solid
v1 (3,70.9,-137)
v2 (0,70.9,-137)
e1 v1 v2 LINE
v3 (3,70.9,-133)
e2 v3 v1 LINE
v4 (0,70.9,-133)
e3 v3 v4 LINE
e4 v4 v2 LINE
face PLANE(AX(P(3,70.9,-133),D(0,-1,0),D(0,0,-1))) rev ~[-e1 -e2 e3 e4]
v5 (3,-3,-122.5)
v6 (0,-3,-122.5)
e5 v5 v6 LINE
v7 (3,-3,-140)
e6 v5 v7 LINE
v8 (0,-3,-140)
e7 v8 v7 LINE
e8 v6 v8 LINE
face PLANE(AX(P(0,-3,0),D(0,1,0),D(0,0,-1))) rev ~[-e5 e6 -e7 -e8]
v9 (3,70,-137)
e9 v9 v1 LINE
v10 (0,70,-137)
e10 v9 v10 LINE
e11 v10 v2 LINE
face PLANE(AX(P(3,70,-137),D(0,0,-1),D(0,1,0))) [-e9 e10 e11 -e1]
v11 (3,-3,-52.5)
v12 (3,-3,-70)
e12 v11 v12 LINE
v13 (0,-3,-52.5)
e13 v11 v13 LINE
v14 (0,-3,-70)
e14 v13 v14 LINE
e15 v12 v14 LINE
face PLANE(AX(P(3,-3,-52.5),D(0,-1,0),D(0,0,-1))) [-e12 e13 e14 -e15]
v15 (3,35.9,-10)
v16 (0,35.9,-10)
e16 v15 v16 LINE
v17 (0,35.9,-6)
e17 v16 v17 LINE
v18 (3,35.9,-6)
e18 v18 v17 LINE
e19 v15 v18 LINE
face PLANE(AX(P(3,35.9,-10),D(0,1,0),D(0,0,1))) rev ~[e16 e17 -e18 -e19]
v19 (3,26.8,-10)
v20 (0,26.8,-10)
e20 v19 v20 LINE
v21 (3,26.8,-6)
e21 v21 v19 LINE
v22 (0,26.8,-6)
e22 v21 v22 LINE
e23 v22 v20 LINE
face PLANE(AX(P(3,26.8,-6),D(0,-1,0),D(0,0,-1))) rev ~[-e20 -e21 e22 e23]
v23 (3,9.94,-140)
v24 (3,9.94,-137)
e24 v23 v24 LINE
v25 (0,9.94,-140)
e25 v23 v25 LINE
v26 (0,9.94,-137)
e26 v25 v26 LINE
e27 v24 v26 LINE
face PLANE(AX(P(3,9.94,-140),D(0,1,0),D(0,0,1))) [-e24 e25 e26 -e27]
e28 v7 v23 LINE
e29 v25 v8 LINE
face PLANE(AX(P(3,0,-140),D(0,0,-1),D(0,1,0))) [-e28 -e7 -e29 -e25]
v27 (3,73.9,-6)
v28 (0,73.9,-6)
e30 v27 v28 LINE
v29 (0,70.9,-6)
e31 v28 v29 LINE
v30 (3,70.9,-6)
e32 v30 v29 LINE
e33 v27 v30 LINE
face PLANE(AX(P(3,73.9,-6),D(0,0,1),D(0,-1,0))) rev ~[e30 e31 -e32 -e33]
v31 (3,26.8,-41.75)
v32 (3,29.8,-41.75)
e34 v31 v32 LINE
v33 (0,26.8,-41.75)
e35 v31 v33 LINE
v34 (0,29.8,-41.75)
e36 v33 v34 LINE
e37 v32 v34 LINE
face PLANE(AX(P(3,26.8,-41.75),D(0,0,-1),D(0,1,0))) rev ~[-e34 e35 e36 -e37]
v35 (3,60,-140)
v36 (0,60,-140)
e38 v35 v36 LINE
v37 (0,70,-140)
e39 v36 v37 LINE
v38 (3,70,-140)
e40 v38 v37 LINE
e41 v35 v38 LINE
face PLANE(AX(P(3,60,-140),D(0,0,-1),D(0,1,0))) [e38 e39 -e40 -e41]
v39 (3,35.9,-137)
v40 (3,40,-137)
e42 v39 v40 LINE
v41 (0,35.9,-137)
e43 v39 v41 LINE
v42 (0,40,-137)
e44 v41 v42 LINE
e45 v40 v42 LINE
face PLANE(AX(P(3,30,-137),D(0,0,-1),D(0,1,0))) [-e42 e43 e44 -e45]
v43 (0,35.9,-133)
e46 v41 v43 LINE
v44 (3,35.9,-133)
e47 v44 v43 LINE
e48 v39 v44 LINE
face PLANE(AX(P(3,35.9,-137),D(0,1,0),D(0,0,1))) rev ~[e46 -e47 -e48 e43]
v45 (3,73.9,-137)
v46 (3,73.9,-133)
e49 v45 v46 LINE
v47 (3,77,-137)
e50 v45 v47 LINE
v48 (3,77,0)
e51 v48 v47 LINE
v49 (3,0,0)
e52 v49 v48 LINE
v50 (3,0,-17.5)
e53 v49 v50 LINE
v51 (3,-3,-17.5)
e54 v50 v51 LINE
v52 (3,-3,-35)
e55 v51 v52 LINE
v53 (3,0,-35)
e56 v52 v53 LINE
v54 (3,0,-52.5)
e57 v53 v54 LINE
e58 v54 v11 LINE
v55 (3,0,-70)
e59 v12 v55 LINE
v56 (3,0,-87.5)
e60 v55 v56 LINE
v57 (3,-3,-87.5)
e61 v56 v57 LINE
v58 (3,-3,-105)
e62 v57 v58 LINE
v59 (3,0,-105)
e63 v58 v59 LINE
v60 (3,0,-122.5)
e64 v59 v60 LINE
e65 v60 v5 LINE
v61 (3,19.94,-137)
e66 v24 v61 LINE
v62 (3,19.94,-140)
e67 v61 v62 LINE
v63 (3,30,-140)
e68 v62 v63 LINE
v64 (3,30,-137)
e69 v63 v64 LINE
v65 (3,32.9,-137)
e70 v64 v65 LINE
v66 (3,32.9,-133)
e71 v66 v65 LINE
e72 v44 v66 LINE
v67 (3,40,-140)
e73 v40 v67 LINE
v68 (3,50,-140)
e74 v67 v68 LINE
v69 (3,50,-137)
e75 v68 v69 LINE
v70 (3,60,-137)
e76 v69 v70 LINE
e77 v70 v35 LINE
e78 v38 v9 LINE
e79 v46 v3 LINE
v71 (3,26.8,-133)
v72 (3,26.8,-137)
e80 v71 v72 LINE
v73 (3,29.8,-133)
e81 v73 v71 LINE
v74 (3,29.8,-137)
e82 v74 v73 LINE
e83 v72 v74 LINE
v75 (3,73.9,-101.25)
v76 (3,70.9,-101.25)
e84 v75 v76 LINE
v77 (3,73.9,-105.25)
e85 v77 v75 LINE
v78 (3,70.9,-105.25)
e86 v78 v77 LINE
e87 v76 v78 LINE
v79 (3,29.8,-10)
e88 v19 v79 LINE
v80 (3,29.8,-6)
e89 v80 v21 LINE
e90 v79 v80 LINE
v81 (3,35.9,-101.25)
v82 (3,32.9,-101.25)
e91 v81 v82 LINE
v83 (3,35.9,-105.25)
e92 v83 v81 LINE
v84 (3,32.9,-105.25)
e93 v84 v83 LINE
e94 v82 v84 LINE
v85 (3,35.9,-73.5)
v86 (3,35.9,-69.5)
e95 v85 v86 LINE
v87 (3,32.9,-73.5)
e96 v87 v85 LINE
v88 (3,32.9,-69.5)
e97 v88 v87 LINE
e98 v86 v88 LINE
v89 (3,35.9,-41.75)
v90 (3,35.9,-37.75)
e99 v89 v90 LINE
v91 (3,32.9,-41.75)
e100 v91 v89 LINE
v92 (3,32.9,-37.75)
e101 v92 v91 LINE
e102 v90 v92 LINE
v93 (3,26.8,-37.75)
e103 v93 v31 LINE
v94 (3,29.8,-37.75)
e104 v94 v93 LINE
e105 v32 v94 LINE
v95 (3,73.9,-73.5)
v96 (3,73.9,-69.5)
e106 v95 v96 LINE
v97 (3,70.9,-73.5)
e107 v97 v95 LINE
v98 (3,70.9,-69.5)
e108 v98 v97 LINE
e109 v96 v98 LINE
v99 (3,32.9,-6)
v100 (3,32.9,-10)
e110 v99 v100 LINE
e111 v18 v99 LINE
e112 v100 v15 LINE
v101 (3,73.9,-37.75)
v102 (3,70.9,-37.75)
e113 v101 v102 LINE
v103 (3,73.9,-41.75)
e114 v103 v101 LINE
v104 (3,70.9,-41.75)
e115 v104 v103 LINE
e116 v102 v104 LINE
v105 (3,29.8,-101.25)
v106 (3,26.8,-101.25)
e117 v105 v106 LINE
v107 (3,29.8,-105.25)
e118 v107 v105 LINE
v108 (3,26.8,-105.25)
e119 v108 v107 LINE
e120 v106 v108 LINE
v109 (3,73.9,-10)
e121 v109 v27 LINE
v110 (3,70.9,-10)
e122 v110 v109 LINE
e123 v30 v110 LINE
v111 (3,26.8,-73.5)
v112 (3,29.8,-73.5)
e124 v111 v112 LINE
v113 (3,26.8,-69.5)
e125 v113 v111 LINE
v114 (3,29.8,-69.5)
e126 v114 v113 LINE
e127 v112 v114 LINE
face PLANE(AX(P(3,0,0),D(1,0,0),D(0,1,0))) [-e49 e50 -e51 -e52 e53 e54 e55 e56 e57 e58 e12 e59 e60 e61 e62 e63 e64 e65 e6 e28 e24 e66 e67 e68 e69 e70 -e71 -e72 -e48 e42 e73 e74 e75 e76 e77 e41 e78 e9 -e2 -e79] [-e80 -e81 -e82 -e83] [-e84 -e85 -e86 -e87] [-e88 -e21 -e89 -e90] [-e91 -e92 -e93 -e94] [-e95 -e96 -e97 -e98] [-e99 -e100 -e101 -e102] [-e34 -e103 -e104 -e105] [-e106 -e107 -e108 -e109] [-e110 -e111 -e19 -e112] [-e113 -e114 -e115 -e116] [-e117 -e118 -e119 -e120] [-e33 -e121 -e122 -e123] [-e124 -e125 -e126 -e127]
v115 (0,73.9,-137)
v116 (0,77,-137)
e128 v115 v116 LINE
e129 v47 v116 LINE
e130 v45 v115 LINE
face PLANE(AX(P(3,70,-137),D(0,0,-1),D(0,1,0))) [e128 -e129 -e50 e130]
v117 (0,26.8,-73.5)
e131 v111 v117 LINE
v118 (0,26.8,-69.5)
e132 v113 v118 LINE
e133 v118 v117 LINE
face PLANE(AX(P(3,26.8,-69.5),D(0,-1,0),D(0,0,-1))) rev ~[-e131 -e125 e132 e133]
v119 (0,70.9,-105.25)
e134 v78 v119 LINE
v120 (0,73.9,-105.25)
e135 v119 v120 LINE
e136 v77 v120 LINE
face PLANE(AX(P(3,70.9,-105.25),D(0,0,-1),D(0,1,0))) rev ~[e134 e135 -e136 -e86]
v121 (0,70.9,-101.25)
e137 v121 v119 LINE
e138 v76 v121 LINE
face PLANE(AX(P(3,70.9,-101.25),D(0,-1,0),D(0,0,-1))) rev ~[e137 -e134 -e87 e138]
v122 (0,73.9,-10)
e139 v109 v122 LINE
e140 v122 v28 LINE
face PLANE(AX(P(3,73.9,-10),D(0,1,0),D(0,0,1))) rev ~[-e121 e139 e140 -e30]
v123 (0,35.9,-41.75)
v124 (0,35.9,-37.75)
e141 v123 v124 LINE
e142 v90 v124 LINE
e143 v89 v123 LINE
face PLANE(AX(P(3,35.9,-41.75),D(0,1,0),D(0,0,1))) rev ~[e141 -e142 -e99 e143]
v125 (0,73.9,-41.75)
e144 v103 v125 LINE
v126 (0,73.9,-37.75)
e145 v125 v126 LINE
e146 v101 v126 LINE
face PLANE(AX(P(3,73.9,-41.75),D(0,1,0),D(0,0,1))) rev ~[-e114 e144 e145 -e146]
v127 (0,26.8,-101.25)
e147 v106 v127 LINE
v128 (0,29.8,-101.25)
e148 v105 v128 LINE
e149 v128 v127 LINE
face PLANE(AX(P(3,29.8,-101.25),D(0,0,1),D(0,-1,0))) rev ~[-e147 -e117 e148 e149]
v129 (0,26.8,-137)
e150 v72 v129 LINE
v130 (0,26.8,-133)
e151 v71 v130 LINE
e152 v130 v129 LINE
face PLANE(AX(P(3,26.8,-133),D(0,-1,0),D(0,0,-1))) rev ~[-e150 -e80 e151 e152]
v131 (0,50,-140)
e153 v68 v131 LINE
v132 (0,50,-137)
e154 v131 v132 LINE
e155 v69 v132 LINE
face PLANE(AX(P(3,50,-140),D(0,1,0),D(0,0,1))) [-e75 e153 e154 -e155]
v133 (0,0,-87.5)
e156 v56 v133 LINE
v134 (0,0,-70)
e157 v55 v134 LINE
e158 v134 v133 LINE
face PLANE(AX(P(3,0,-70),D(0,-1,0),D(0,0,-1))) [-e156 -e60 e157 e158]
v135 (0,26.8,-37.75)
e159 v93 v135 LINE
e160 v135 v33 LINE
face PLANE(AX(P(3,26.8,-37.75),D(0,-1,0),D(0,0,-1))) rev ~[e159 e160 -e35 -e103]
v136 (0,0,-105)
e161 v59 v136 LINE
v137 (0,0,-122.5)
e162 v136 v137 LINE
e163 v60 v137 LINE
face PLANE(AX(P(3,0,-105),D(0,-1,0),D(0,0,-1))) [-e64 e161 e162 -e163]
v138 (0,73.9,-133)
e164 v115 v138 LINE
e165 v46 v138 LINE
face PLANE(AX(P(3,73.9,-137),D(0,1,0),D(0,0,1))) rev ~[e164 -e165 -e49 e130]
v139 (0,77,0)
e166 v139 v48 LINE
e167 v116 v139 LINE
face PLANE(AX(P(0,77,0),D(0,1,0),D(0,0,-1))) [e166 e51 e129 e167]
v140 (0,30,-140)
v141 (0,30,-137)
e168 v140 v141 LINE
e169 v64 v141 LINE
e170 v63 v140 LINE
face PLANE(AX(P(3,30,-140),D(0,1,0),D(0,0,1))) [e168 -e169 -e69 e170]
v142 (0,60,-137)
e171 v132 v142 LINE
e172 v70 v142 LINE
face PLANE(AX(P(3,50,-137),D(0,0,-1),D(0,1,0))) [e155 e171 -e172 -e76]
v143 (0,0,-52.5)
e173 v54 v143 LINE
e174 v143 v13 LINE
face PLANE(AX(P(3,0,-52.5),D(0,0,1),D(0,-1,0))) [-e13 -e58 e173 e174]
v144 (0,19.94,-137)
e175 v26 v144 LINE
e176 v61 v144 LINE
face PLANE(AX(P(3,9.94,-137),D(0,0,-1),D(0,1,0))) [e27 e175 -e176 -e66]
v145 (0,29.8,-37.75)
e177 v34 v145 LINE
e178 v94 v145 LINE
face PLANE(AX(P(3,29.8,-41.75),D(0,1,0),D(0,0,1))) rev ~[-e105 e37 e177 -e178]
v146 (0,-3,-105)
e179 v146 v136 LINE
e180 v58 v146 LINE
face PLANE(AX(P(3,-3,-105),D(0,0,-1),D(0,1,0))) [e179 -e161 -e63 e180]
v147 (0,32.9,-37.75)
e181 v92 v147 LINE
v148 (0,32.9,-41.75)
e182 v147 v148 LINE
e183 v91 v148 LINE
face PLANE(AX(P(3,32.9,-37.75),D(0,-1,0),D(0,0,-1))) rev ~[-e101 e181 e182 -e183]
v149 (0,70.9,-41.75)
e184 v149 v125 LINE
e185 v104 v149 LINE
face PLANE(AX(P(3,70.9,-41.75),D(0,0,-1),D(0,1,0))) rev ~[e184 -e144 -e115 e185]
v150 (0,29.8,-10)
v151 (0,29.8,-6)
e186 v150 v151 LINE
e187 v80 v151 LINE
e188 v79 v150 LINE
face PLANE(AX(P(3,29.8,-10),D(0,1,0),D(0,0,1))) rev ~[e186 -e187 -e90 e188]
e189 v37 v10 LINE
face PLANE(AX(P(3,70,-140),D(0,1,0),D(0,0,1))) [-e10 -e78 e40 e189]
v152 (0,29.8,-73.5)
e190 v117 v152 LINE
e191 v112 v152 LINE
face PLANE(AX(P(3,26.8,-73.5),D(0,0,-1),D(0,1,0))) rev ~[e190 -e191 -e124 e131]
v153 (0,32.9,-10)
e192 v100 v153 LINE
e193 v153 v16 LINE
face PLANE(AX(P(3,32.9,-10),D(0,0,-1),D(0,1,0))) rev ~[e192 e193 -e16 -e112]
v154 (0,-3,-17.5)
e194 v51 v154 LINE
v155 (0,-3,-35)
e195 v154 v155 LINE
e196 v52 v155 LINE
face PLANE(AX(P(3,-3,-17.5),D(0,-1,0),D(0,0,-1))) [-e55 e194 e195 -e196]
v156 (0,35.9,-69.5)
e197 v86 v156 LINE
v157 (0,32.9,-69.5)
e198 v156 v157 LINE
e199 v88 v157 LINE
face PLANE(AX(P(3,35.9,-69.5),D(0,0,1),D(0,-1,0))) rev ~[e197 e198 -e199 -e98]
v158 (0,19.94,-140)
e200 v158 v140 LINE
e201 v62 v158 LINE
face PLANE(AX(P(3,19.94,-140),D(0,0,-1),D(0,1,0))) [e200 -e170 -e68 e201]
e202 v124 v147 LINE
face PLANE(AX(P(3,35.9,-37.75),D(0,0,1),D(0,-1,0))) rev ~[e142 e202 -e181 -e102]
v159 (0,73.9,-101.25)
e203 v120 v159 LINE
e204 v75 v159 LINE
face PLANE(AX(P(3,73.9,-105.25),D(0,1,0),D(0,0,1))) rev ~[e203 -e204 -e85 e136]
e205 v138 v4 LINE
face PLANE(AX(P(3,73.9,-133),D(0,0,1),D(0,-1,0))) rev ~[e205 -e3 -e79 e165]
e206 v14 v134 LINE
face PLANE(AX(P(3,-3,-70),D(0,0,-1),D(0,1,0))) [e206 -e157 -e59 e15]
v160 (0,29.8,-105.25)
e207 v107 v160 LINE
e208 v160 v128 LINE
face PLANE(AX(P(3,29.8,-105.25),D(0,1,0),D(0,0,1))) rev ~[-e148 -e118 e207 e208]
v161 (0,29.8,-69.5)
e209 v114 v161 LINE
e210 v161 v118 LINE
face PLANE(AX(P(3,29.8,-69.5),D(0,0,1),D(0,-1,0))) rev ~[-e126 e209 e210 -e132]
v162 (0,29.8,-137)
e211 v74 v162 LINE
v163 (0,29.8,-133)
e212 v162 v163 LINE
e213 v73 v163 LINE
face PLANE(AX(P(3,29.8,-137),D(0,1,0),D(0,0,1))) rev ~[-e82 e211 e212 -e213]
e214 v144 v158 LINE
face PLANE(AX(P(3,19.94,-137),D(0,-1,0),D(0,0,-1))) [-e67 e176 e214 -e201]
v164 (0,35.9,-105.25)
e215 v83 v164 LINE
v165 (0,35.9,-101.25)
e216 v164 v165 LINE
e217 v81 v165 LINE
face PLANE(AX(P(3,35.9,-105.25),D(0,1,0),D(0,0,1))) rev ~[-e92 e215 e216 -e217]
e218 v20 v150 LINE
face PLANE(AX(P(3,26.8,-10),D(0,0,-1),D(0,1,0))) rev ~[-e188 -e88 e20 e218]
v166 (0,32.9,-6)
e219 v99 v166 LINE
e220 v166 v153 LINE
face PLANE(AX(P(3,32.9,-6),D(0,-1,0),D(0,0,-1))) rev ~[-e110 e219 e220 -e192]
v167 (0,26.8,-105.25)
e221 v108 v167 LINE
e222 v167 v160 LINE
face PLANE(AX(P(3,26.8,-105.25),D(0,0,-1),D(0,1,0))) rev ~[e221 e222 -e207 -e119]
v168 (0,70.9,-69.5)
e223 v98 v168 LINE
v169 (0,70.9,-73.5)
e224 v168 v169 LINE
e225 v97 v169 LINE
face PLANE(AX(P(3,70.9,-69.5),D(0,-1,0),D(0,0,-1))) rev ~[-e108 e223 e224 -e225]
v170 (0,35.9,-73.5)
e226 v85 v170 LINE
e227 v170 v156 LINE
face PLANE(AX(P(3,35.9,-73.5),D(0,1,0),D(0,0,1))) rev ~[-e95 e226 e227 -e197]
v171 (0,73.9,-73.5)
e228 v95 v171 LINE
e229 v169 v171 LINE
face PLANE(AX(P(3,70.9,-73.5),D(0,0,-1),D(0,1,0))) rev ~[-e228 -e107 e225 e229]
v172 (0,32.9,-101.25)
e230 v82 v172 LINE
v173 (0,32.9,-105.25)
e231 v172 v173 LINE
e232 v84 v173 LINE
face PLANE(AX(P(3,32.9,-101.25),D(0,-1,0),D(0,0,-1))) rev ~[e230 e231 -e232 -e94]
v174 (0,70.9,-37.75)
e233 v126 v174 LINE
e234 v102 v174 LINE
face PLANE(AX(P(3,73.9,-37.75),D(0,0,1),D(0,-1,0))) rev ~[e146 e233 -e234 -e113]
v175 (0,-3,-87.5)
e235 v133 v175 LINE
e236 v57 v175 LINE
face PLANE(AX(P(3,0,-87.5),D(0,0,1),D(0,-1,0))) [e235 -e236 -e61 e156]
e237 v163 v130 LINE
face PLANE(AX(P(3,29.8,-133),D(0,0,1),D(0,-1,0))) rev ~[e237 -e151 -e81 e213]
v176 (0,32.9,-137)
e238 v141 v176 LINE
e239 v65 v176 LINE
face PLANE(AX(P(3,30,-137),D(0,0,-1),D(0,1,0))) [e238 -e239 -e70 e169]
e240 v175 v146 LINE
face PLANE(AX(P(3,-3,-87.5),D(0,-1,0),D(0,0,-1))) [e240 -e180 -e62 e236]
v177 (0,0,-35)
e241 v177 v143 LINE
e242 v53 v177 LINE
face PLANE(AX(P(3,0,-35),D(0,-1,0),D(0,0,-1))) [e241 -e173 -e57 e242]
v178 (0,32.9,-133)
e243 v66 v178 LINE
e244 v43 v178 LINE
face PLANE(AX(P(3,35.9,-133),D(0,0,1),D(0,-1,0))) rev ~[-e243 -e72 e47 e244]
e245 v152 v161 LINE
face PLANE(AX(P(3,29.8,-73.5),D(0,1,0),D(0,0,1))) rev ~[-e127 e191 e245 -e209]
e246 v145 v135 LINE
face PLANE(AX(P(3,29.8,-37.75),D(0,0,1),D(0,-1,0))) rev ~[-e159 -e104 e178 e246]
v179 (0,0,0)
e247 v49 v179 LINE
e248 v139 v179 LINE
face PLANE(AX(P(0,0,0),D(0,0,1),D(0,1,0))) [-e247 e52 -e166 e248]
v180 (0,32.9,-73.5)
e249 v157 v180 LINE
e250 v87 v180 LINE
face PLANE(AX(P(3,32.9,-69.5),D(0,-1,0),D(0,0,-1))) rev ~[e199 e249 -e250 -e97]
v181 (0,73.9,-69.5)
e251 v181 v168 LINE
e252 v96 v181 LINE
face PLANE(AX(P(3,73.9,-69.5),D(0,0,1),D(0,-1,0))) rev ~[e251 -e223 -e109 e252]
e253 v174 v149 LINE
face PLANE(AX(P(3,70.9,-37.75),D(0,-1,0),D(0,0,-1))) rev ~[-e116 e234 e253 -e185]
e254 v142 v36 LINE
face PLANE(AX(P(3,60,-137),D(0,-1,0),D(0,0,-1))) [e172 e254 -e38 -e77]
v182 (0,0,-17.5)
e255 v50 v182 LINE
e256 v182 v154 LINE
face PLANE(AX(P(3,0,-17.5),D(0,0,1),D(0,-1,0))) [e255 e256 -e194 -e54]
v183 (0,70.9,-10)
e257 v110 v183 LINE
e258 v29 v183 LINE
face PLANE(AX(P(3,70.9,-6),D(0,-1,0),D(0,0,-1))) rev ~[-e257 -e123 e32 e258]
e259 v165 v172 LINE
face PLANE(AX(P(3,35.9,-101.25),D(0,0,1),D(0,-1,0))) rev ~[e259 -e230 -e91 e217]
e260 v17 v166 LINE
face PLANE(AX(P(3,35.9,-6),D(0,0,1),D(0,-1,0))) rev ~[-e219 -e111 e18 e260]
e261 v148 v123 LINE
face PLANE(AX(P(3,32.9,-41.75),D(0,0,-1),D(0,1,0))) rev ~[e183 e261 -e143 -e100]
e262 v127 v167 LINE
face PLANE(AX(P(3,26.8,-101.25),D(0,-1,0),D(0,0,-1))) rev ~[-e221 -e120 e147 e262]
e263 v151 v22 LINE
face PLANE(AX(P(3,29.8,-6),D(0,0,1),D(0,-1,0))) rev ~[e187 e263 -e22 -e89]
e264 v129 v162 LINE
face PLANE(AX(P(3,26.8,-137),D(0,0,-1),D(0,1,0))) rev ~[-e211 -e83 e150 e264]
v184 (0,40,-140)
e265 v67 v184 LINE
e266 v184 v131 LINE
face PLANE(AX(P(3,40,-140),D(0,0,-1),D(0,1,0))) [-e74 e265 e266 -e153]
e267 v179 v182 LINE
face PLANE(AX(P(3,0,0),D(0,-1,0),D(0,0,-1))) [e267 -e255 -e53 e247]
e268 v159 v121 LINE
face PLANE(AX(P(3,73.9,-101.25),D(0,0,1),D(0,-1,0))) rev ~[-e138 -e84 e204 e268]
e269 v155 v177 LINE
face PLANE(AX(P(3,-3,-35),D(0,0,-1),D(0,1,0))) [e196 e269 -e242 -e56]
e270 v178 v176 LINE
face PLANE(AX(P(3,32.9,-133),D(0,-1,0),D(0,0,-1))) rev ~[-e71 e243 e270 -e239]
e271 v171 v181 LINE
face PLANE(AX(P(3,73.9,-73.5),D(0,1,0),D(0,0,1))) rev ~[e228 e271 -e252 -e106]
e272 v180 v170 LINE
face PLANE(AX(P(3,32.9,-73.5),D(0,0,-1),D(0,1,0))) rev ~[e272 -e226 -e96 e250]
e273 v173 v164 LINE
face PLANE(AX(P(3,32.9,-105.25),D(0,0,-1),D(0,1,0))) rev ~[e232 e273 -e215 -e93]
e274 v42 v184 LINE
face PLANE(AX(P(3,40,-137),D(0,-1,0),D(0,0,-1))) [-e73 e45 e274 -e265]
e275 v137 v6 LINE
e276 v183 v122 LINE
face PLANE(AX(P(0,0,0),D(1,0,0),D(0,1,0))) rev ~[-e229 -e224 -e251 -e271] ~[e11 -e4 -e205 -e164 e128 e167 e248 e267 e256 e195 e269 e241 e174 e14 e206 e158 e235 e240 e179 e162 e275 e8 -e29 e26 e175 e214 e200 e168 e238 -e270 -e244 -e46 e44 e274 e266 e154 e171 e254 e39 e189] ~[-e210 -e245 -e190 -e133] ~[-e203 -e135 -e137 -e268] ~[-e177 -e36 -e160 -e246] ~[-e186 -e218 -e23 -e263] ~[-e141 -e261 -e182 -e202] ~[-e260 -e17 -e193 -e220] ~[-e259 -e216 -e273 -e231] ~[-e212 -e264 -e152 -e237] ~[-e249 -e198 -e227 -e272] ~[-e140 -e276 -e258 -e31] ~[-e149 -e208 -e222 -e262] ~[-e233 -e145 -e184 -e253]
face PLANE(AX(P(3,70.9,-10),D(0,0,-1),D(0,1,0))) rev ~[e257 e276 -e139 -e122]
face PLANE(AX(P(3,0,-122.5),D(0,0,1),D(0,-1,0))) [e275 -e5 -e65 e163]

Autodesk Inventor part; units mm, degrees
ref_plane "YZ Plane" through (0, 0, 0) normal (1, 0, 0) x (0, 1, 0)
ref_plane "XZ Plane" through (0, 0, 0) normal (0, 1, 0) x (-1, 0, 0)
ref_plane "XY Plane" through (0, 0, 0) normal (0, 0, 1) x (1, 0, 0)
sketch "Sketch1" plane through (0, 0, 0) normal (1, 0, 0) x (0, 1, 0)
  line L0 (0, 0) -> (77, 0)
  line L1 (77, 0) -> (77, -140)
  line L2 (77, -140) -> (0, -140)
  line L3 (0, 0) -> (-3, 0)
  line L4 (-3, 0) -> (-3, -140)
  line L5 (-3, -140) -> (0, -140)
  dimension "d1" = 140
extrude "Extrusion1" add sketch "Sketch1" along normal blind 3
sketch "Sketch5" plane through (3, 0, 0) normal (1, 0, 0) x (0, 0, -1)
  line L0 (6, 73.9) -> (6, 70.9)
  line L1 (6, 70.9) -> (10, 70.9)
  line L2 (10, 70.9) -> (10, 73.9)
  line L3 (10, 73.9) -> (6, 73.9)
  line L4 (0, 77) -> (0, 0) projected
  line L5 (140, 77) -> (0, 77) projected
  line L6 (37.75, 73.9) -> (37.75, 70.9)
  line L7 (37.75, 70.9) -> (41.75, 70.9)
  line L8 (41.75, 70.9) -> (41.75, 73.9)
  line L9 (41.75, 73.9) -> (37.75, 73.9)
  line L10 (6, 35.9) -> (6, 32.9)
  line L11 (6, 32.9) -> (10, 32.9)
  line L12 (10, 32.9) -> (10, 35.9)
  line L13 (10, 35.9) -> (6, 35.9)
  line L14 (37.75, 35.9) -> (37.75, 32.9)
  line L15 (37.75, 32.9) -> (41.75, 32.9)
  line L16 (41.75, 32.9) -> (41.75, 35.9)
  line L17 (41.75, 35.9) -> (37.75, 35.9)
  line L18 (69.5, 73.9) -> (69.5, 70.9)
  line L19 (69.5, 70.9) -> (73.5, 70.9)
  line L20 (73.5, 70.9) -> (73.5, 73.9)
  line L21 (73.5, 73.9) -> (69.5, 73.9)
  line L22 (69.5, 35.9) -> (69.5, 32.9)
  line L23 (69.5, 32.9) -> (73.5, 32.9)
  line L24 (73.5, 32.9) -> (73.5, 35.9)
  line L25 (73.5, 35.9) -> (69.5, 35.9)
  line L26 (101.25, 73.9) -> (101.25, 70.9)
  line L27 (101.25, 70.9) -> (105.25, 70.9)
  line L28 (105.25, 70.9) -> (105.25, 73.9)
  line L29 (105.25, 73.9) -> (101.25, 73.9)
  line L30 (101.25, 35.9) -> (101.25, 32.9)
  line L31 (101.25, 32.9) -> (105.25, 32.9)
  line L32 (105.25, 32.9) -> (105.25, 35.9)
  line L33 (105.25, 35.9) -> (101.25, 35.9)
  line L34 (133, 73.9) -> (133, 70.9)
  line L35 (133, 70.9) -> (137, 70.9)
  line L36 (137, 70.9) -> (137, 73.9)
  line L37 (137, 73.9) -> (133, 73.9)
  line L38 (133, 35.9) -> (133, 32.9)
  line L39 (133, 32.9) -> (137, 32.9)
  line L40 (137, 32.9) -> (137, 35.9)
  line L41 (137, 35.9) -> (133, 35.9)
  line L42 (10, 26.8) -> (10, 29.8)
  line L43 (10, 29.8) -> (6, 29.8)
  line L44 (6, 26.8) -> (10, 26.8)
  line L45 (6, 29.8) -> (6, 26.8)
  line L46 (69.5, 29.8) -> (69.5, 26.8)
  line L47 (69.5, 26.8) -> (73.5, 26.8)
  line L48 (73.5, 29.8) -> (69.5, 29.8)
  line L49 (73.5, 26.8) -> (73.5, 29.8)
  line L50 (41.75, 29.8) -> (37.75, 29.8)
  line L51 (37.75, 26.8) -> (41.75, 26.8)
  line L52 (41.75, 26.8) -> (41.75, 29.8)
  line L53 (37.75, 29.8) -> (37.75, 26.8)
  line L54 (133, 29.8) -> (133, 26.8)
  line L55 (137, 29.8) -> (133, 29.8)
  line L56 (133, 26.8) -> (137, 26.8)
  line L57 (137, 26.8) -> (137, 29.8)
  line L58 (101.25, 29.8) -> (101.25, 26.8)
  line L59 (101.25, 26.8) -> (105.25, 26.8)
  line L60 (105.25, 26.8) -> (105.25, 29.8)
  line L61 (105.25, 29.8) -> (101.25, 29.8)
  line L62 (140, -3) -> (140, 77) projected
  dimension "d67" = 3
  dimension "d68" = 4
  dimension "d93" = 3.1
  dimension "d97" = 6
  dimension "d100" = 31.75
  dimension "d103" = 38
  dimension "d108" = 6.1
  dimension "d113" = 3
extrude "Extrusion5" cut sketch "Sketch5" against normal blind 10
sketch "Sketch6" plane through (3, 0, 0) normal (1, 0, 0) x (0, 0, -1)
  line L0 (0, 0) -> (17.5, 0)
  line L1 (17.5, 0) -> (17.5, -3)
  line L2 (17.5, -3) -> (35, -3)
  line L3 (35, -3) -> (35, 0)
  line L4 (0, 0) -> (0, 10)
  line L5 (140, 0) -> (140, 9.94)
  line L6 (137, 9.94) -> (137, 19.94)
  line L7 (137, 19.94) -> (140, 19.94)
  line L8 (140, 30) -> (137, 30)
  line L9 (137, 30) -> (137, 40)
  line L10 (137, 40) -> (140, 40)
  line L11 (140, 40) -> (140, 50)
  line L12 (140, 50) -> (137, 50)
  line L13 (137, 50) -> (137, 60)
  line L14 (137, 60) -> (140, 60)
  line L15 (140, 60) -> (140, 70)
  line L16 (140, 70) -> (137, 70)
  line L17 (137, 70) -> (137, 77)
  line L18 (140, 9.94) -> (137, 9.94)
  line L19 (140, 19.94) -> (140, 30)
  line L20 (3, 77) -> (137, 77)
  line L21 (0, 77) -> (0, 0)
  line L22 (0, 0) -> (0, 77)
  line L23 (0, 77) -> (3, 77)
  line L24 (35, 0) -> (52.5, 0)
  line L25 (52.5, 0) -> (52.5, -3)
  line L26 (52.5, -3) -> (70, -3)
  line L27 (70, -3) -> (70, 0)
  line L28 (70, 0) -> (87.5, 0)
  line L29 (87.5, 0) -> (87.5, -3)
  line L30 (87.5, -3) -> (105, -3)
  line L31 (105, -3) -> (105, 0)
  line L32 (105, 0) -> (122.5, 0)
  line L33 (122.5, 0) -> (122.5, -3)
  line L34 (122.5, -3) -> (140, -3)
  line L35 (140, 30) -> (140, 19.94)
  line L36 (140, 9.94) -> (140, -3)
  line L37 (140, 40) -> (140, 50)
  line L38 (140, 60) -> (140, 70)
  line L39 (140, -3) -> (140, 9.94)
  line L40 (137, 9.94) -> (137, 19.94)
  line L41 (0, 0) -> (0, 77)
  line L42 (137, 77) -> (0, 77)
  line L43 (0, 77) -> (0, 10)
  point P0 (0, 70)
extrude "Extrusion6" cut sketch "Sketch6" against normal blind 3 keep common part
properties part number "DoosjeRechterkant" material "Wood (Cherry)"
